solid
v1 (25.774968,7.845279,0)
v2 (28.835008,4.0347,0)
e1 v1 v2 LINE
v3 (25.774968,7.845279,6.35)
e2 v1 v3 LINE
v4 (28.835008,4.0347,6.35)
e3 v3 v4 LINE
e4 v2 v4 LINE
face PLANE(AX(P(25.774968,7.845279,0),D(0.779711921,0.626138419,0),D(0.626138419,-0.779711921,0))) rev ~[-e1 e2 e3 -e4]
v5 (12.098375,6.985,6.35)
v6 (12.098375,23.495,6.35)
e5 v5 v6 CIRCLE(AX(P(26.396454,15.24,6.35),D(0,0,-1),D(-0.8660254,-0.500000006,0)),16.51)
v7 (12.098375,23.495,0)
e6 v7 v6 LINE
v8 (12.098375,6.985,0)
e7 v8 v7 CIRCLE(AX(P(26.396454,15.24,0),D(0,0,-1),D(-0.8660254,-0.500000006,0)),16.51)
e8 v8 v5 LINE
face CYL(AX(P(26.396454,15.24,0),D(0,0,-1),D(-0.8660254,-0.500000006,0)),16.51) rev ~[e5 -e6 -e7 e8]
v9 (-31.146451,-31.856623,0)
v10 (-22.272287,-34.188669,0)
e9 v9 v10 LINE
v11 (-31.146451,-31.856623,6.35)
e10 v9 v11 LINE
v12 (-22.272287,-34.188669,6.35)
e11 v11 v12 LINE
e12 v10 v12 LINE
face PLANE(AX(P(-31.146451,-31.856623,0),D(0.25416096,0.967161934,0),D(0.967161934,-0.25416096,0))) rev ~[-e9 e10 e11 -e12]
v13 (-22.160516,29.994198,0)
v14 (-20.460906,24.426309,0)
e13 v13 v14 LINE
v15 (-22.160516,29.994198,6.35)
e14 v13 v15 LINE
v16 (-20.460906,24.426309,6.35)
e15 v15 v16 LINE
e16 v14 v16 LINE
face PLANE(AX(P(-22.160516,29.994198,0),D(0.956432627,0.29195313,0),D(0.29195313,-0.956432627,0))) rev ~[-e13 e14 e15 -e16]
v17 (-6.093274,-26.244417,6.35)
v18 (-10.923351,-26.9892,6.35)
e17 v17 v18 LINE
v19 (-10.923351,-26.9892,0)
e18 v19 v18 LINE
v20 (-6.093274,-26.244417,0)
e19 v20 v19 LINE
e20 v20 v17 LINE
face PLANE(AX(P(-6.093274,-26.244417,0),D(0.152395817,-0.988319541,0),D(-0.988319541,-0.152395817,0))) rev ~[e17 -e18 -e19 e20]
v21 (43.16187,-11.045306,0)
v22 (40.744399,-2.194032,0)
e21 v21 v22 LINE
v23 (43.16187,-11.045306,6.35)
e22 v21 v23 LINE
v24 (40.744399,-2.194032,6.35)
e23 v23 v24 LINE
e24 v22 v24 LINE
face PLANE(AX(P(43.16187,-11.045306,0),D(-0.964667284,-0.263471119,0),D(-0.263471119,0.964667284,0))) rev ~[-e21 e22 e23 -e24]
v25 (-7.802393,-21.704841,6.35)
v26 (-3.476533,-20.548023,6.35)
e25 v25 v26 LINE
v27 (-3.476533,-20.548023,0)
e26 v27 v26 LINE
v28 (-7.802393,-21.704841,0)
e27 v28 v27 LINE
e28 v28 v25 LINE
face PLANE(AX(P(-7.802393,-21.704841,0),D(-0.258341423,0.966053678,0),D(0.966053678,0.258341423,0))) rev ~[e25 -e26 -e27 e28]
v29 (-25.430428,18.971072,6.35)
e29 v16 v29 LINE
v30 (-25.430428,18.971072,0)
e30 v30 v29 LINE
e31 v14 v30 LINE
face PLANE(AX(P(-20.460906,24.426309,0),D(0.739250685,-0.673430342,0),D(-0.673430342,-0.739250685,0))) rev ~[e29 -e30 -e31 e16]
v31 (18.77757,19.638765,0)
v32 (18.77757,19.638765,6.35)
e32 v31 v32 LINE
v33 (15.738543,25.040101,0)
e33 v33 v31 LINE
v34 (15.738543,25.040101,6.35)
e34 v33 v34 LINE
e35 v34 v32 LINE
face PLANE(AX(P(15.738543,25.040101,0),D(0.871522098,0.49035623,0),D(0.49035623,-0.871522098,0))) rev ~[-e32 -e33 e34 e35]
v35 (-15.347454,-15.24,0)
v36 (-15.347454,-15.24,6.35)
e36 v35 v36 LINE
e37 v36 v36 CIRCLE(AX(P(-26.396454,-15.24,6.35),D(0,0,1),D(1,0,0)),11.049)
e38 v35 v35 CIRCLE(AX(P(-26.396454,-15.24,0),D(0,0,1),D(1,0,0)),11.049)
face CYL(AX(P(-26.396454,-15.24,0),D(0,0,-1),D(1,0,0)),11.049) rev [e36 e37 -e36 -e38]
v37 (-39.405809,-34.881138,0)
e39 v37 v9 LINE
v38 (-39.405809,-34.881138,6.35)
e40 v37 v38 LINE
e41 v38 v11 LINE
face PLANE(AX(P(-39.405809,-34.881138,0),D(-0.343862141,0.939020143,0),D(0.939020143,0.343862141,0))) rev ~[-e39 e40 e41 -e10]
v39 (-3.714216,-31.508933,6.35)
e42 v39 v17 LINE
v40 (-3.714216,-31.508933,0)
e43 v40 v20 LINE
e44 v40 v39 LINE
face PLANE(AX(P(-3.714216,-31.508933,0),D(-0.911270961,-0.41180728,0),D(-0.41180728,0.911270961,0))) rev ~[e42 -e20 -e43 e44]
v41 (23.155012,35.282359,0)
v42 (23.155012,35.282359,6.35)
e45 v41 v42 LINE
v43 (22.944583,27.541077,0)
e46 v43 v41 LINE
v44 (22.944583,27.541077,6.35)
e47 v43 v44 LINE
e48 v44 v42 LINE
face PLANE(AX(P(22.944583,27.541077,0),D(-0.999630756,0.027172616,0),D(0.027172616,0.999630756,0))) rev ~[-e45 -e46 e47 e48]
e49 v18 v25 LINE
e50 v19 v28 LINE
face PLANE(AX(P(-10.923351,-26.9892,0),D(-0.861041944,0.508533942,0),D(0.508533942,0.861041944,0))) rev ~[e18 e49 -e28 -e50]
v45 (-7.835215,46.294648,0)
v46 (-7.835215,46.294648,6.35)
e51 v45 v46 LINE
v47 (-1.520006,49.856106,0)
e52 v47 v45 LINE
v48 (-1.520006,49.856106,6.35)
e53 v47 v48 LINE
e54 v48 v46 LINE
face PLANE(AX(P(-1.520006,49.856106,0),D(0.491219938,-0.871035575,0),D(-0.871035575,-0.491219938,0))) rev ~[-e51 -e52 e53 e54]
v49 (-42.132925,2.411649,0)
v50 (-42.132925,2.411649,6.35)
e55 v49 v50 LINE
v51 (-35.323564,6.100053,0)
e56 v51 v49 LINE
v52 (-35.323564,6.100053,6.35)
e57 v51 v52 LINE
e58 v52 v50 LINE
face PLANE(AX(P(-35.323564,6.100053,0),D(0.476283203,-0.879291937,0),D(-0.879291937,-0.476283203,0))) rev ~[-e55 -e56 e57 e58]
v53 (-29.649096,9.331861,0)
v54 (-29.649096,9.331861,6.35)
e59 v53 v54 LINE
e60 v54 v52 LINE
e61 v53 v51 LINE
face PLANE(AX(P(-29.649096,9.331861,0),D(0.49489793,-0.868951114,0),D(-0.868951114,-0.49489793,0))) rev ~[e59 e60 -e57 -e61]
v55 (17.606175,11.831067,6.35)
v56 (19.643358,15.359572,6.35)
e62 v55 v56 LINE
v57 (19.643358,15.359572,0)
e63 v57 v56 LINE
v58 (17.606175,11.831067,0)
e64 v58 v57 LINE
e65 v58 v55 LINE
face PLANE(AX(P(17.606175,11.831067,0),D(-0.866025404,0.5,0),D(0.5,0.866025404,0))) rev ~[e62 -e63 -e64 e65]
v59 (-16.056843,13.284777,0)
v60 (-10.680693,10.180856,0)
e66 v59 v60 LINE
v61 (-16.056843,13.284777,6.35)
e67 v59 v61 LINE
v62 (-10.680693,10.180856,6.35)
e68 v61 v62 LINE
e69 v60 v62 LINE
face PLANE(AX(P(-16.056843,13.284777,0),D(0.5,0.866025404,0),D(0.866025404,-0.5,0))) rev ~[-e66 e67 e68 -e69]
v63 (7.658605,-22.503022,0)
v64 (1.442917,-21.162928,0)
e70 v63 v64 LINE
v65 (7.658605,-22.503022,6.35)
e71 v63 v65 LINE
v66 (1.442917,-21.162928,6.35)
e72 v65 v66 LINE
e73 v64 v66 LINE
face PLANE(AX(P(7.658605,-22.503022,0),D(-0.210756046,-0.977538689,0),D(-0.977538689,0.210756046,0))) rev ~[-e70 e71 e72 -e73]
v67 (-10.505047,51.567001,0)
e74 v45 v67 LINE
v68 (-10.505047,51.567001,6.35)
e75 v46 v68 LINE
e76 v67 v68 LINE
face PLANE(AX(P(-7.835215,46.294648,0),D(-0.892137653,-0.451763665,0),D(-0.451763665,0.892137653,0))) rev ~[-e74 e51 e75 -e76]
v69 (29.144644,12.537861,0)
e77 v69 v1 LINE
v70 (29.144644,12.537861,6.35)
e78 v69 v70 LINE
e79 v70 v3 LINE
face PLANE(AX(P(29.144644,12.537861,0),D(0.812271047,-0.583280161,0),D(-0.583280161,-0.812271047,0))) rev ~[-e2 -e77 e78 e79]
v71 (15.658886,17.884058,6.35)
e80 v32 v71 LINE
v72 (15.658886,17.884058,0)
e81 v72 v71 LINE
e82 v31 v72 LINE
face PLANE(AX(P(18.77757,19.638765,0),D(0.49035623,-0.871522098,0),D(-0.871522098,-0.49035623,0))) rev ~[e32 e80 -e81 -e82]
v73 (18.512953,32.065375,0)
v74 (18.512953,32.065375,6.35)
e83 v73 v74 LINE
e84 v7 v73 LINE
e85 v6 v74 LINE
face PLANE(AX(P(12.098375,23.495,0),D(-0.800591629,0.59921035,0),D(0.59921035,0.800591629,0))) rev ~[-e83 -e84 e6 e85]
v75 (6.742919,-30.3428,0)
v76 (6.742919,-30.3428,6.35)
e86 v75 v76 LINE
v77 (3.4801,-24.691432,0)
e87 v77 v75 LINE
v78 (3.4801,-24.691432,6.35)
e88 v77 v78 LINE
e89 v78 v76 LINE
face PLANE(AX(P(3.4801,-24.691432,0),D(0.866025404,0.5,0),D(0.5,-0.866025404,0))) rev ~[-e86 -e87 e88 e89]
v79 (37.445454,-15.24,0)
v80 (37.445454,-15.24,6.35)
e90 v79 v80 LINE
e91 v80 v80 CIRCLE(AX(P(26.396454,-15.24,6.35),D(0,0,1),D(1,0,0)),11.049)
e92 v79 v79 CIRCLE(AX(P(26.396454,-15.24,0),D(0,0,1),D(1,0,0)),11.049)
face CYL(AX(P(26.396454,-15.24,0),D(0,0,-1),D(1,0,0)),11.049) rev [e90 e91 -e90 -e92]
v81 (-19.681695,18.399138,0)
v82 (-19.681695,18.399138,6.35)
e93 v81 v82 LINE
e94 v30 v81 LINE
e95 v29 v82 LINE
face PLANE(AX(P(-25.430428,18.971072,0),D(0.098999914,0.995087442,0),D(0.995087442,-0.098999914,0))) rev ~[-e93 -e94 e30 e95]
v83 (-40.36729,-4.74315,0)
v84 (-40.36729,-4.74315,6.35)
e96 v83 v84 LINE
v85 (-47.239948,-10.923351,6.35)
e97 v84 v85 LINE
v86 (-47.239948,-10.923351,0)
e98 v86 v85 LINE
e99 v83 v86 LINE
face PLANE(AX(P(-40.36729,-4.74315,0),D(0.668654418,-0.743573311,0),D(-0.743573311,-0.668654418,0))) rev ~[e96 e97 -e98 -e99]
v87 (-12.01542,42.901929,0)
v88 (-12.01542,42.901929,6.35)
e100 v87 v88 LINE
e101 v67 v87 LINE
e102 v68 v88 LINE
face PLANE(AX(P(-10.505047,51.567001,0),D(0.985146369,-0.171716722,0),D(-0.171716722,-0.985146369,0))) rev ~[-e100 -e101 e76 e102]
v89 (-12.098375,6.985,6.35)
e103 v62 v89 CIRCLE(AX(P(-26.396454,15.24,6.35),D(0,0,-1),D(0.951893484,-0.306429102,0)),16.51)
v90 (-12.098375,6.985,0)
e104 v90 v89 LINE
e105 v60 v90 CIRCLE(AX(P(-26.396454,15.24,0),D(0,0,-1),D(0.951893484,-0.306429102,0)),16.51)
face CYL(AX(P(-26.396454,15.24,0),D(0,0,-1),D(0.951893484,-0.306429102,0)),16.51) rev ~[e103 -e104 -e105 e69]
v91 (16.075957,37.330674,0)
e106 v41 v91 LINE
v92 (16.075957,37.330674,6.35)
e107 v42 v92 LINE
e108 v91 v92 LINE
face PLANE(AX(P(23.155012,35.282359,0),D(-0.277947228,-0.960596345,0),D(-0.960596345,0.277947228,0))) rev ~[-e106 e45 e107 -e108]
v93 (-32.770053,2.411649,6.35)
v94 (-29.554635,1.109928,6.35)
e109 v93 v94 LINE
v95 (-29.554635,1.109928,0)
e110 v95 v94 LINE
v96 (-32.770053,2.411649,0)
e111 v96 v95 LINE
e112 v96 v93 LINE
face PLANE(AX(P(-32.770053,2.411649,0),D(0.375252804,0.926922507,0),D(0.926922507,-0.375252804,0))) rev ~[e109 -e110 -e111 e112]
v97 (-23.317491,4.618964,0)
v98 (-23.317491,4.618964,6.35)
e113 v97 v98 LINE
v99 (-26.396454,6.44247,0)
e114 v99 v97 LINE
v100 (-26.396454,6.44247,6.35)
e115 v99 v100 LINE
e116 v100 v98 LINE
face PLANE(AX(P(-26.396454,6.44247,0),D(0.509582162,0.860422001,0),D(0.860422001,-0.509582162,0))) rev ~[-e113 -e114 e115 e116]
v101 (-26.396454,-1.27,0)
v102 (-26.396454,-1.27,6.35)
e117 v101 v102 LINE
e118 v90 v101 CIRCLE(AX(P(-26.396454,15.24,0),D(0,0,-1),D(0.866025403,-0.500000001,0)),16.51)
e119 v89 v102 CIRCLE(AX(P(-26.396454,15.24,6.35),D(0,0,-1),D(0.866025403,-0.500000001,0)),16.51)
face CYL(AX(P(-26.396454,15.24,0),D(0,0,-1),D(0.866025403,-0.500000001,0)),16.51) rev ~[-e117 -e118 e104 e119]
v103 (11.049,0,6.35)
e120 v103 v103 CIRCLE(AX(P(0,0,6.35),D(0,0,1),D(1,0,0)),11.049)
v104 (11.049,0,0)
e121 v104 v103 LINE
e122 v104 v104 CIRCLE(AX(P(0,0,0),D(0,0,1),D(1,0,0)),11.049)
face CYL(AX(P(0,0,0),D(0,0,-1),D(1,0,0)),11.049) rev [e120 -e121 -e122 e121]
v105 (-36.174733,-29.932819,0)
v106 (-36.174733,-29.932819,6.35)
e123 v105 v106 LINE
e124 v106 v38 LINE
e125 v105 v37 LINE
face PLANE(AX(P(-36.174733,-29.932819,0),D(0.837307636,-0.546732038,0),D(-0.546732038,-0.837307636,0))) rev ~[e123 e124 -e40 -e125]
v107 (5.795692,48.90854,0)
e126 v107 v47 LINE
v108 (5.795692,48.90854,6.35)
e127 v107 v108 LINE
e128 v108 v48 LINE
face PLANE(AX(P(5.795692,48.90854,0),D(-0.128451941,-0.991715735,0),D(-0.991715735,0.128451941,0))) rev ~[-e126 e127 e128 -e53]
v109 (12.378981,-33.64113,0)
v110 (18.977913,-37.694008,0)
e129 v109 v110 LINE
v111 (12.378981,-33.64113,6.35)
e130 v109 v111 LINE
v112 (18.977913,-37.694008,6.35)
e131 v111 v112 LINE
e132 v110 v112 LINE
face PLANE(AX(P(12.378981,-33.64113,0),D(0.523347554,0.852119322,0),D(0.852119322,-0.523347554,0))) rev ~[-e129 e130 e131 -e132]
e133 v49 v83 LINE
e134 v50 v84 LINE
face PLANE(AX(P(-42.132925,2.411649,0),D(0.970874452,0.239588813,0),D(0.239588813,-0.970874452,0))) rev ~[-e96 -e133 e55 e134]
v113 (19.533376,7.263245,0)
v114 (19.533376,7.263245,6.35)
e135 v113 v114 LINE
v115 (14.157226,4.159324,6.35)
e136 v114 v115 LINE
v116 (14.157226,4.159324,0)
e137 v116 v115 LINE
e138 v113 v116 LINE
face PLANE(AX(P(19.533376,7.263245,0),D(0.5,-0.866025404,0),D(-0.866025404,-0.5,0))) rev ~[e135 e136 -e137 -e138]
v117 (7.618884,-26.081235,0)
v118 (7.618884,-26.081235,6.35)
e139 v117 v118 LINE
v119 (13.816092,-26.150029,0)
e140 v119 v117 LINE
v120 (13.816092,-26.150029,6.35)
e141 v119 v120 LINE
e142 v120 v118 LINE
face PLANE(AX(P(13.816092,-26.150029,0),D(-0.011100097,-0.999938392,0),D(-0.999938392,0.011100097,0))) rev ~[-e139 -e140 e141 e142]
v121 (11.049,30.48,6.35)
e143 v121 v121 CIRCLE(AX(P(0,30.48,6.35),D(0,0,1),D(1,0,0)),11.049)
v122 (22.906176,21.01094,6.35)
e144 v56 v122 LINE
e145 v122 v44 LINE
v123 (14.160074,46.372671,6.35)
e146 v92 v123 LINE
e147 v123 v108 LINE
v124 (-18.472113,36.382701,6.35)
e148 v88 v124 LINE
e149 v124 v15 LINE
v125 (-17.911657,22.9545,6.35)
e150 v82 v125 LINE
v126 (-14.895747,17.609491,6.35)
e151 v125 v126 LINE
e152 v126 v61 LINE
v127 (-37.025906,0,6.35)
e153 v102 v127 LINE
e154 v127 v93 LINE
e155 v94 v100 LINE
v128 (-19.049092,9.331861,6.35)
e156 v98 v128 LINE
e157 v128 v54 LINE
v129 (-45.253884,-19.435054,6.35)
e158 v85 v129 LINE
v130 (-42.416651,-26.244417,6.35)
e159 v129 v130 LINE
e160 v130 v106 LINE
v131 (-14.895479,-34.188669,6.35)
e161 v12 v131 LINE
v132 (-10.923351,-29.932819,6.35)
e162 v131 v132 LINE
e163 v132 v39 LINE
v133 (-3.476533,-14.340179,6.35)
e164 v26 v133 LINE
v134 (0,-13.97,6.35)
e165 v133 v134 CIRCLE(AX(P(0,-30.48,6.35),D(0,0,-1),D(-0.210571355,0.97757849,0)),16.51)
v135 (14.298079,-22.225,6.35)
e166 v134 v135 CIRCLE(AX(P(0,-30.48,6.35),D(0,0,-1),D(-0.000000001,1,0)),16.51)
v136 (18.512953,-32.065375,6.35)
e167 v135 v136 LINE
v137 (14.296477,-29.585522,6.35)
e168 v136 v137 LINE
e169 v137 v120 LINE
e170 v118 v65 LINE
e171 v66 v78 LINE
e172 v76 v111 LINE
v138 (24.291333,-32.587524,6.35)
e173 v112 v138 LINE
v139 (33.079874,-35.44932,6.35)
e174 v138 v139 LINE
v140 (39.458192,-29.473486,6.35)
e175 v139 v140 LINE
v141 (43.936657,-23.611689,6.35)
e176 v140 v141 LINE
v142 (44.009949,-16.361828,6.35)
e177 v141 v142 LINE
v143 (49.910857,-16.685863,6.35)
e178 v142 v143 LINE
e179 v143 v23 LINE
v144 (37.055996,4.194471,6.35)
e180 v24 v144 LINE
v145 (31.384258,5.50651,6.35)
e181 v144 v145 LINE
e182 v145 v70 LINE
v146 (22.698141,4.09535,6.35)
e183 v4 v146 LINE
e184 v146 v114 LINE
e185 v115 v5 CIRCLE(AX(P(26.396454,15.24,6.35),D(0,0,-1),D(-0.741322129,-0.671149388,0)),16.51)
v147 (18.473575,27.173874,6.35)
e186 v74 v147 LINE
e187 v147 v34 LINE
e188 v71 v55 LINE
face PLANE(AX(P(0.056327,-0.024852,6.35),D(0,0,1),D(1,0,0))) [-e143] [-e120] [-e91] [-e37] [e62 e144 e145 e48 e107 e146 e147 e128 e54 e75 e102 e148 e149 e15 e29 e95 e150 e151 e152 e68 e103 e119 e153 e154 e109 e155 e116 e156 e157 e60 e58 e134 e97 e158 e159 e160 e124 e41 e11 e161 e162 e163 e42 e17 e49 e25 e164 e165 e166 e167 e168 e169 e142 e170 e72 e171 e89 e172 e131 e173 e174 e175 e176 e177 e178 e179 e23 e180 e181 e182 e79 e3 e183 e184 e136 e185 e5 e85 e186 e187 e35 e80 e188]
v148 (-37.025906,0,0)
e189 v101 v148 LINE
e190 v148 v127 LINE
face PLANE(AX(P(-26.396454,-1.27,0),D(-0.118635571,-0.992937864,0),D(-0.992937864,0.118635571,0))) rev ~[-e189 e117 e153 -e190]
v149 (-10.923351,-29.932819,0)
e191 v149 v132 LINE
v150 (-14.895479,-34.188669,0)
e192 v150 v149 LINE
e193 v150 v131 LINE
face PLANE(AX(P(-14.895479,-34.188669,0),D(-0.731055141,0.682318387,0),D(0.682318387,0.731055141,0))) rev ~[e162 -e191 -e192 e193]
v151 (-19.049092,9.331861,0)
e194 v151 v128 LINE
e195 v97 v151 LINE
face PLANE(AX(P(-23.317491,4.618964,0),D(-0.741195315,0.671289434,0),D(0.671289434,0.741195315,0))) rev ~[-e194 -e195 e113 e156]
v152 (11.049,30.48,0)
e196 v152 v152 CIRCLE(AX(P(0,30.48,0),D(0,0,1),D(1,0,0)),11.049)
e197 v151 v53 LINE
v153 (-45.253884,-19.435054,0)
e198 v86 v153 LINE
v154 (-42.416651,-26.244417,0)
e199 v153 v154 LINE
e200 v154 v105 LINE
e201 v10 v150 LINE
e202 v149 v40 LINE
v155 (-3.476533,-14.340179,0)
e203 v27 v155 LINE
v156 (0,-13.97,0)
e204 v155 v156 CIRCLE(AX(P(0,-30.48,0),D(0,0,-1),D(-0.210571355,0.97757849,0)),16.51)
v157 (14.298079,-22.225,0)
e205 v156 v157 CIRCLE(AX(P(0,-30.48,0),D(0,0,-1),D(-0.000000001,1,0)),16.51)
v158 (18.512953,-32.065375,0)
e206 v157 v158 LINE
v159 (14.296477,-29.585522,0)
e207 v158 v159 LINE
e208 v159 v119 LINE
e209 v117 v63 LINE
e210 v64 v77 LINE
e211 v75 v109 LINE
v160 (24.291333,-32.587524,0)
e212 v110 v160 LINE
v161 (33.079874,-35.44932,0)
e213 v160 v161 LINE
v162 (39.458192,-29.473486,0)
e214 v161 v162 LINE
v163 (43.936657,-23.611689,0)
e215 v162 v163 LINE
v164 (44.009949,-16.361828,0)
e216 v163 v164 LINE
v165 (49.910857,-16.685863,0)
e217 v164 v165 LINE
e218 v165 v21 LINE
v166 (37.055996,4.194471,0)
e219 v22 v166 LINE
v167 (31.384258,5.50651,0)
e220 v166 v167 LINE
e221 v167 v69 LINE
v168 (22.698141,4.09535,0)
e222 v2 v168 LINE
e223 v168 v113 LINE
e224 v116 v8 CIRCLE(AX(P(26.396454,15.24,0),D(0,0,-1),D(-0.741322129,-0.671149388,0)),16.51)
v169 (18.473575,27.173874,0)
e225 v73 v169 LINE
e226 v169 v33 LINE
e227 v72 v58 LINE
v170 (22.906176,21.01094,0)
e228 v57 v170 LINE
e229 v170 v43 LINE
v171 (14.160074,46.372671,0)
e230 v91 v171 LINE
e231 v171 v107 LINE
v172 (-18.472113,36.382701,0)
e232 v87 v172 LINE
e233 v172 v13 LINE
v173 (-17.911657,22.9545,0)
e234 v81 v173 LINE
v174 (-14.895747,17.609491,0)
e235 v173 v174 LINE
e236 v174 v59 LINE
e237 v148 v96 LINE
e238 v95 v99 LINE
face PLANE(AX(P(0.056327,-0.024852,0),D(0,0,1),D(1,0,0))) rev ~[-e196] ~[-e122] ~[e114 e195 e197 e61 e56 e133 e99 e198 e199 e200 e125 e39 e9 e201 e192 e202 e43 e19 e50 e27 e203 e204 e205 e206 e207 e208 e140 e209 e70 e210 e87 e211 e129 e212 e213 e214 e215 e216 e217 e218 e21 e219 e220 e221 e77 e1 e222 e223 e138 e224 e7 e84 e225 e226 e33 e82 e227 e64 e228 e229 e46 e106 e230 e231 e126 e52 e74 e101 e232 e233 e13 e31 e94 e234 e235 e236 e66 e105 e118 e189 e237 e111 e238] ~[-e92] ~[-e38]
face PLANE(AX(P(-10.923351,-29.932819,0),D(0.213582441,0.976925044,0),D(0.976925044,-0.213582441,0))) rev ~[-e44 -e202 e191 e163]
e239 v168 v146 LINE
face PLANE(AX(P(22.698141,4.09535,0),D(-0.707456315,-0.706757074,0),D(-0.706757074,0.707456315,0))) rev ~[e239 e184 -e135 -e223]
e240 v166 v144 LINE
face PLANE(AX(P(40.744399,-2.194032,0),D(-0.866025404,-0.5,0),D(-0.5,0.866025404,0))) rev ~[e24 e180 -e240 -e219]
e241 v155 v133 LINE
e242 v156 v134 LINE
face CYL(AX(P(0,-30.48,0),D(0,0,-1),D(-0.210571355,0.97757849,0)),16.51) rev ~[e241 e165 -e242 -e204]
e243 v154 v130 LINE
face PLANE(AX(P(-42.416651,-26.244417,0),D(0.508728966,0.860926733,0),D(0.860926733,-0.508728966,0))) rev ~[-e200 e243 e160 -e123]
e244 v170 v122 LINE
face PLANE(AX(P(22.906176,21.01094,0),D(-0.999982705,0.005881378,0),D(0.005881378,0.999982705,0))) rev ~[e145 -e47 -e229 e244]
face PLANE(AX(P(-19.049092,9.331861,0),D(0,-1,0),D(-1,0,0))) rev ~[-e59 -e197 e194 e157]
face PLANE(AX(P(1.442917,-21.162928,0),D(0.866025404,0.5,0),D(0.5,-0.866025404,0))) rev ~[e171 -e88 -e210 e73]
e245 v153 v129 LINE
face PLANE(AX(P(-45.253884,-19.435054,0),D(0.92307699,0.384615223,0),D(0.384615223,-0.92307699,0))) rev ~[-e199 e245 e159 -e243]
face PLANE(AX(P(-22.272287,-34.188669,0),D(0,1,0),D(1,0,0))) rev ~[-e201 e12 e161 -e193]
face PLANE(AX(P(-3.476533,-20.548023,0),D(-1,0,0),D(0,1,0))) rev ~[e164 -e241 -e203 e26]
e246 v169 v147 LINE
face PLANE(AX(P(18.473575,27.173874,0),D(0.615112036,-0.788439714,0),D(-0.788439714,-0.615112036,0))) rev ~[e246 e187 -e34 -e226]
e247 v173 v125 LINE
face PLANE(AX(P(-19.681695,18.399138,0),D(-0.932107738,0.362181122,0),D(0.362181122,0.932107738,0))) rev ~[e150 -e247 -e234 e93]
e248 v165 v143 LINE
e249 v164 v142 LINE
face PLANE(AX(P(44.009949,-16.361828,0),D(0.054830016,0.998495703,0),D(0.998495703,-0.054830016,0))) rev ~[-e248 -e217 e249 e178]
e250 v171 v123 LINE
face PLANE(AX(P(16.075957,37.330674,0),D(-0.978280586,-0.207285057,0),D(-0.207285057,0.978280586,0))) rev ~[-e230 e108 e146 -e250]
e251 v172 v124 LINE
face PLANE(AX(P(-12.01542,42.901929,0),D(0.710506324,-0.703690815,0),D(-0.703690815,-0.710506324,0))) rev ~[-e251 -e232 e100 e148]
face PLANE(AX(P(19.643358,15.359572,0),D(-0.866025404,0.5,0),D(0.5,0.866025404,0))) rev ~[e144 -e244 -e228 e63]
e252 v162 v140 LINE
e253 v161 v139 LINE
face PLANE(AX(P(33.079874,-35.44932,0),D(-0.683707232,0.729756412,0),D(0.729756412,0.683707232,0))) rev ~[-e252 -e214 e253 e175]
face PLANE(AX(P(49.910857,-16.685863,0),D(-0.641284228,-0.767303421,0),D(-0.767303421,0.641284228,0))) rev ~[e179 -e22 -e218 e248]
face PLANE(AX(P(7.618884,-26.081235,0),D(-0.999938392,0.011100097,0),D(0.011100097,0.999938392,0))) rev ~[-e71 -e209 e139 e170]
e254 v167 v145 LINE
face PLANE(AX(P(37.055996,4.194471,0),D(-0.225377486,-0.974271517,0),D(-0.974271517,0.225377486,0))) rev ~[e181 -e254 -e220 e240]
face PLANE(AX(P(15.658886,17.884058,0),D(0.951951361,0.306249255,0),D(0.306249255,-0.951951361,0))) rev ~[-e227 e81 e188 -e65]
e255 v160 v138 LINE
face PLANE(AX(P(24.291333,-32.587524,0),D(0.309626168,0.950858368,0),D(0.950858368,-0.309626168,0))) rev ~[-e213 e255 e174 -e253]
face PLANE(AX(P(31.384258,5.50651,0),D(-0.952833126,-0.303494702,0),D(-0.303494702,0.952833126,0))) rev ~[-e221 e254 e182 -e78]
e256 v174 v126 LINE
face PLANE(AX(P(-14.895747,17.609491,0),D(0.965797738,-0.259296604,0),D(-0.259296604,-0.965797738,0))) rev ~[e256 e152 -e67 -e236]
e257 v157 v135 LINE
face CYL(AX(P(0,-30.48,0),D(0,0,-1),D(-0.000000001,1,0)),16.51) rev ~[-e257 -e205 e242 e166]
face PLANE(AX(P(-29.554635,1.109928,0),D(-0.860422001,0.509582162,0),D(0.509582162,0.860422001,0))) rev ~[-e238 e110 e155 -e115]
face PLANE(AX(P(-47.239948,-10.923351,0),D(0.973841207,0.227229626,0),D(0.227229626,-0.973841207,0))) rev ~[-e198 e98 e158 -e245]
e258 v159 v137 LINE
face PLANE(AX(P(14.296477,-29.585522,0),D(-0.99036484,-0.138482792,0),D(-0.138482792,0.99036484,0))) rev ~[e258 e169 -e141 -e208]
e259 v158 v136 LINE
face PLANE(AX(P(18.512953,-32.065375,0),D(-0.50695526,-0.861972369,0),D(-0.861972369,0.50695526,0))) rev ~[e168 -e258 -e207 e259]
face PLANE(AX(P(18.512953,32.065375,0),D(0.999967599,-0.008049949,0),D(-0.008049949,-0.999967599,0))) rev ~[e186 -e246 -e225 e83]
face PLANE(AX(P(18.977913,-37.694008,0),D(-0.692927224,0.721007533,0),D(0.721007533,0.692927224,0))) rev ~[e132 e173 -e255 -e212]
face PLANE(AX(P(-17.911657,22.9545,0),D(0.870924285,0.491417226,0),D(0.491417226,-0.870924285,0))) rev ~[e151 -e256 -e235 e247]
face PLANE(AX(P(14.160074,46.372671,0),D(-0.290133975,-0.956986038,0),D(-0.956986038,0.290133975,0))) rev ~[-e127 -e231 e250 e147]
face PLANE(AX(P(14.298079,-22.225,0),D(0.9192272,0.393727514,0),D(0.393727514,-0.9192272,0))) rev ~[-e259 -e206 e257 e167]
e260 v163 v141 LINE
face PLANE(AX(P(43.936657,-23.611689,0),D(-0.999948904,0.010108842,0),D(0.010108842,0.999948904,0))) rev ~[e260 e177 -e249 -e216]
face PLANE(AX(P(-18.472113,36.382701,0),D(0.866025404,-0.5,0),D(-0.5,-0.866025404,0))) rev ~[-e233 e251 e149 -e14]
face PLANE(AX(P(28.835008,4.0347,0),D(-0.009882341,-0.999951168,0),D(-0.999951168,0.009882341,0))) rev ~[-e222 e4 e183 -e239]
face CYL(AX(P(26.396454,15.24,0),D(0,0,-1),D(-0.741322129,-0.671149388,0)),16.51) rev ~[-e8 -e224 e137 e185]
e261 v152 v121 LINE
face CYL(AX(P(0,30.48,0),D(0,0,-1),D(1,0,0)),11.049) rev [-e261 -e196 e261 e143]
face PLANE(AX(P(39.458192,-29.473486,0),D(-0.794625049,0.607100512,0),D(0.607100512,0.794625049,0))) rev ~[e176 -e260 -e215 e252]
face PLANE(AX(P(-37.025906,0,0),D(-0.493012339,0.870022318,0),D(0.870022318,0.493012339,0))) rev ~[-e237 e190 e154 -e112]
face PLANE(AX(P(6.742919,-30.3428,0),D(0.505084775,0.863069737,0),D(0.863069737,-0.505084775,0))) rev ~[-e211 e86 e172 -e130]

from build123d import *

# Parameters (mm, degrees)
F0_R     = 11.049
F1_DEPTH = 6.35


with BuildPart() as f1:
    # F0 (on Top) → F1 (new body)
    with BuildSketch(Plane.XY):
        with BuildLine():
            ThreePointArc((-2.36e-08, -13.97), (9.8782817248, -9.8782817415), (13.97, 0))
            ThreePointArc((13.97, 0), (13.8409108955, 1.8947521167), (13.4560292651, 3.754487504))
            ThreePointArc((13.4560292651, 3.754487504), (12.8788953824, 5.4124812914), (12.0983749493, 6.9849998988))
            ThreePointArc((12.0983749493, 6.9849998988), (1.7521013954, 13.8596912195), (-9.9794961892, 9.7760194256))
            ThreePointArc((-9.9794961892, 9.7760194256), (-11.1267940276, 8.4472098748), (-12.0983748995, 6.9849999851))
            ThreePointArc((-12.0983748995, 6.9849999851), (-12.8788953564, -5.4124813532), (-3.4765330758, -13.5305069296))
            ThreePointArc((-3.4765330758, -13.5305069296), (-1.7521013491, -13.8596912254), (-2.36e-08, -13.97))
        make_face()
        Circle(F0_R, mode=Mode.SUBTRACT)
        with BuildLine():
            ThreePointArc((13.4560292651, 3.754487504), (13.8409108955, 1.8947521167), (13.97, 0))
            ThreePointArc((13.97, 0), (9.8782817248, -9.8782817415), (-2.36e-08, -13.97))
            ThreePointArc((-2.36e-08, -13.97), (8.2549999898, -16.1819205776), (14.2980794165, -22.225))
            ThreePointArc((14.2980794165, -22.225), (14.2980794165, -8.255), (26.3964543074, -1.27))
            ThreePointArc((26.3964543074, -1.27), (19.7017499565, 0.1482461704), (14.1572259578, 4.1593236033))
            Line((14.1572259578, 4.1593236033), (13.4560292651, 3.754487504))
        make_face()
        with BuildLine():
            ThreePointArc((12.0983749493, 6.9849998988), (12.8788953824, 5.4124812914), (13.4560292651, 3.754487504))
            Line((13.4560292651, 3.754487504), (14.1572259578, 4.1593236033))
            ThreePointArc((14.1572259578, 4.1593236033), (13.0527933882, 5.5175099241), (12.0983749493, 6.9849998988))
        make_face()
        with BuildLine():
            ThreePointArc((-3.4765330758, -14.3401791282), (-1.7480928878, -14.0628056217), (-2.36e-08, -13.97))
            ThreePointArc((-2.36e-08, -13.97), (-1.7521013491, -13.8596912254), (-3.4765330758, -13.5305069296))
            Line((-3.4765330758, -13.5305069296), (-3.4765330758, -14.3401791282))
        make_face()
        with BuildLine():
            ThreePointArc((-9.9794961892, 9.7760194256), (1.7521013954, 13.8596912195), (12.0983749493, 6.9849998988))
            ThreePointArc((12.0983749493, 6.9849998988), (9.8864543074, 15.2399999416), (12.0983748909, 23.495))
            ThreePointArc((12.0983748909, 23.495), (0, 16.51), (-12.0983748909, 23.495))
            ThreePointArc((-12.0983748909, 23.495), (-9.9792599278, 16.9880928761), (-10.680692882, 10.1808555249))
            Line((-10.680692882, 10.1808555249), (-9.9794961892, 9.7760194256))
        make_face()
        with BuildLine():
            Line((19.5333762679, 7.2632454321), (14.1572259578, 4.1593236033))
            ThreePointArc((14.1572259578, 4.1593236033), (19.7017499565, 0.1482461704), (26.3964543074, -1.27))
            ThreePointArc((26.3964543074, -1.27), (36.2747360405, -5.3617182668), (40.3664543073, -15.24))
            ThreePointArc((40.3664543073, -15.24), (30.0121563674, -28.7339837933), (14.2980794165, -22.225))
            Line((14.2980794165, -22.225), (18.5129530728, -32.0653753202))
            Line((18.5129530728, -32.0653753202), (14.2964770949, -29.5855224255))
            Line((14.2964770949, -29.5855224255), (13.8160917687, -26.1500289008))
            Line((13.8160917687, -26.1500289008), (7.6188843675, -26.0812350595))
            Line((7.6188843675, -26.0812350595), (7.6586053261, -22.5030220397))
            Line((7.6586053261, -22.5030220397), (1.4429174314, -21.1629279691))
            Line((1.4429174314, -21.1629279691), (3.4801004676, -24.6914324922))
            Line((3.4801004676, -24.6914324922), (6.7429192586, -30.342800414))
            Line((6.7429192586, -30.342800414), (12.3789807439, -33.641130461))
            Line((12.3789807439, -33.641130461), (18.9779134399, -37.6940080274))
            Line((18.9779134399, -37.6940080274), (24.2913333671, -32.5875241804))
            Line((24.2913333671, -32.5875241804), (33.0798736321, -35.4493195164))
            Line((33.0798736321, -35.4493195164), (39.4581922442, -29.4734863592))
            Line((39.4581922442, -29.4734863592), (43.9366570858, -23.6116887214))
            Line((43.9366570858, -23.6116887214), (44.0099485225, -16.3618282657))
            Line((44.0099485225, -16.3618282657), (49.9108565981, -16.6858625943))
            Line((49.9108565981, -16.6858625943), (43.1618704508, -11.0453059989))
            Line((43.1618704508, -11.0453059989), (40.7443994954, -2.1940317001))
            Line((40.7443994954, -2.1940317001), (37.0559956245, 4.1944712032))
            Line((37.0559956245, 4.1944712032), (31.3842575072, 5.5065100534))
            Line((31.3842575072, 5.5065100534), (29.1446442552, 12.5378607885))
            Line((29.1446442552, 12.5378607885), (25.7749684952, 7.8452786686))
            Line((25.7749684952, 7.8452786686), (28.8350082813, 4.0347003266))
            Line((28.8350082813, 4.0347003266), (22.6981406857, 4.0953499054))
            Line((22.6981406857, 4.0953499054), (19.5333762679, 7.2632454321))
        make_face()
        with BuildLine():
            Line((-3.4765330758, -14.3401791282), (-3.4765330758, -13.5305069296))
            ThreePointArc((-3.4765330758, -13.5305069296), (-12.8788953564, -5.4124813532), (-12.0983748995, 6.9849999851))
            ThreePointArc((-12.0983748995, 6.9849999851), (-18.1414543148, 0.9419205792), (-26.3964543073, -1.27))
            ThreePointArc((-26.3964543073, -1.27), (-16.5181725742, -5.3617182668), (-12.4264543073, -15.24))
            ThreePointArc((-12.4264543073, -15.24), (-12.9024705141, -18.8557020601), (-14.2980794165, -22.225))
            ThreePointArc((-14.2980794165, -22.225), (-9.7224900287, -17.1363390465), (-3.4765330758, -14.3401791282))
        make_face()
        with BuildLine():
            ThreePointArc((26.3964543074, -1.27), (14.2980794165, -8.255), (14.2980794165, -22.225))
            ThreePointArc((14.2980794165, -22.225), (30.0121563674, -28.7339837933), (40.3664543073, -15.24))
            ThreePointArc((40.3664543073, -15.24), (36.2747360405, -5.3617182668), (26.3964543074, -1.27))
        make_face()
        with Locations((26.3964543073, -15.24)):
            Circle(F0_R, mode=Mode.SUBTRACT)
        with BuildLine():
            Line((-3.4765330758, -20.5480227857), (-3.4765330758, -14.3401791282))
            ThreePointArc((-3.4765330758, -14.3401791282), (-9.7224900287, -17.1363390465), (-14.2980794165, -22.225))
            ThreePointArc((-14.2980794165, -22.225), (-38.4948291982, -22.225), (-26.3964543073, -1.27))
            Line((-26.3964543073, -1.27), (-37.0259061456, 0))
            Line((-37.0259061456, 0), (-32.7700525522, 2.4116488639))
            Line((-32.7700525522, 2.4116488639), (-29.5546352221, 1.1099279977))
            Line((-29.5546352221, 1.1099279977), (-26.3964543073, 6.442470119))
            Line((-26.3964543073, 6.442470119), (-23.3174914114, 4.6189642499))
            Line((-23.3174914114, 4.6189642499), (-19.0490919554, 9.3318608334))
            Line((-19.0490919554, 9.3318608334), (-23.1234580278, 9.3318608334))
            Line((-23.1234580278, 9.3318608334), (-29.6490956098, 9.3318608334))
            Line((-29.6490956098, 9.3318608334), (-35.3235639632, 6.1000534333))
            Line((-35.3235639632, 6.1000534333), (-42.1329252422, 2.4116488639))
            Line((-42.1329252422, 2.4116488639), (-40.3672904702, -4.7431496975))
            Line((-40.3672904702, -4.7431496975), (-47.2399480641, -10.9233511612))
            Line((-47.2399480641, -10.9233511612), (-45.2538840473, -19.4350536913))
            Line((-45.2538840473, -19.4350536913), (-42.4166508019, -26.2444168329))
            Line((-42.4166508019, -26.2444168329), (-36.1747331917, -29.9328193069))
            Line((-36.1747331917, -29.9328193069), (-39.4058091898, -34.8811384415))
            Line((-39.4058091898, -34.8811384415), (-31.146450813, -31.8566232858))
            Line((-31.146450813, -31.8566232858), (-22.2722869366, -34.1886691749))
            Line((-22.2722869366, -34.1886691749), (-14.8954791948, -34.1886691749))
            Line((-14.8954791948, -34.1886691749), (-10.9233511612, -29.9328193069))
            Line((-10.9233511612, -29.9328193069), (-3.7142161756, -31.5089327035))
            Line((-3.7142161756, -31.5089327035), (-6.0932736208, -26.2444168329))
            Line((-6.0932736208, -26.2444168329), (-10.9233511612, -26.9891998532))
            Line((-10.9233511612, -26.9891998532), (-7.8023932874, -21.7048414052))
            Line((-7.8023932874, -21.7048414052), (-3.4765330758, -20.5480227857))
        make_face()
        with BuildLine():
            ThreePointArc((-12.0983748995, 6.9849999851), (-11.1267940276, 8.4472098748), (-9.9794961892, 9.7760194256))
            Line((-9.9794961892, 9.7760194256), (-10.680692882, 10.1808555249))
            ThreePointArc((-10.680692882, 10.1808555249), (-11.3047004812, 8.5452956412), (-12.0983748995, 6.9849999851))
        make_face()
        with BuildLine():
            ThreePointArc((-12.0983748909, 23.495), (0, 16.51), (12.0983748909, 23.495))
            ThreePointArc((12.0983748909, 23.495), (13.4939837933, 26.8642979399), (13.97, 30.48))
            ThreePointArc((13.97, 30.48), (-3.6157020601, 43.9739837933), (-12.0983748909, 23.495))
        make_face()
        with Locations((0, 30.48)):
            Circle(F0_R, mode=Mode.SUBTRACT)
        with BuildLine():
            ThreePointArc((13.97, 30.48), (13.4939837933, 26.8642979399), (12.0983748909, 23.495))
            Line((12.0983748909, 23.495), (18.5129530728, 32.0653753202))
            Line((18.5129530728, 32.0653753202), (18.4735754573, 27.1738735616))
            Line((18.4735754573, 27.1738735616), (15.7385434534, 25.0401009031))
            Line((15.7385434534, 25.0401009031), (18.7775699398, 19.6387649405))
            Line((18.7775699398, 19.6387649405), (15.6588860852, 17.8840577898))
            Line((15.6588860852, 17.8840577898), (17.606174524, 11.8310671357))
            Line((17.606174524, 11.8310671357), (19.6433575602, 15.3595716588))
            Line((19.6433575602, 15.3595716588), (22.9061763512, 21.0109395806))
            Line((22.9061763512, 21.0109395806), (22.9445832193, 27.5410770276))
            Line((22.9445832193, 27.5410770276), (23.1550118023, 35.2823591635))
            Line((23.1550118023, 35.2823591635), (16.0759571031, 37.3306738779))
            Line((16.0759571031, 37.3306738779), (14.160074432, 46.3726706775))
            Line((14.160074432, 46.3726706775), (5.7956918031, 48.9085400505))
            Line((5.7956918031, 48.9085400505), (-1.5200062839, 49.8561055544))
            Line((-1.5200062839, 49.8561055544), (-7.8352153308, 46.2946475726))
            Line((-7.8352153308, 46.2946475726), (-10.5050474083, 51.5670010358))
            Line((-10.5050474083, 51.5670010358), (-12.0154196378, 42.9019292847))
            Line((-12.0154196378, 42.9019292847), (-18.4721125587, 36.382700875))
            Line((-18.4721125587, 36.382700875), (-22.1605164296, 29.9941979717))
            Line((-22.1605164296, 29.9941979717), (-20.460906346, 24.4263092535))
            Line((-20.460906346, 24.4263092535), (-25.4304280796, 18.971071915))
            Line((-25.4304280796, 18.971071915), (-19.6816948744, 18.3991381643))
            Line((-19.6816948744, 18.3991381643), (-17.9116571201, 22.9544995267))
            Line((-17.9116571201, 22.9544995267), (-14.8957473983, 17.6094914998))
            Line((-14.8957473983, 17.6094914998), (-16.0568431921, 13.2847773536))
            Line((-16.0568431921, 13.2847773536), (-10.680692882, 10.1808555249))
            ThreePointArc((-10.680692882, 10.1808555249), (-9.9792599278, 16.9880928761), (-12.0983748909, 23.495))
            ThreePointArc((-12.0983748909, 23.495), (-3.6157020601, 43.9739837933), (13.97, 30.48))
        make_face()
        with BuildLine():
            ThreePointArc((-26.3964543073, -1.27), (-38.4948291982, -22.225), (-14.2980794165, -22.225))
            ThreePointArc((-14.2980794165, -22.225), (-12.9024705141, -18.8557020601), (-12.4264543073, -15.24))
            ThreePointArc((-12.4264543073, -15.24), (-16.5181725742, -5.3617182668), (-26.3964543073, -1.27))
        make_face()
        with Locations((-26.3964543073, -15.24)):
            Circle(F0_R, mode=Mode.SUBTRACT)
    extrude(amount=F1_DEPTH)


solid = f1.part
